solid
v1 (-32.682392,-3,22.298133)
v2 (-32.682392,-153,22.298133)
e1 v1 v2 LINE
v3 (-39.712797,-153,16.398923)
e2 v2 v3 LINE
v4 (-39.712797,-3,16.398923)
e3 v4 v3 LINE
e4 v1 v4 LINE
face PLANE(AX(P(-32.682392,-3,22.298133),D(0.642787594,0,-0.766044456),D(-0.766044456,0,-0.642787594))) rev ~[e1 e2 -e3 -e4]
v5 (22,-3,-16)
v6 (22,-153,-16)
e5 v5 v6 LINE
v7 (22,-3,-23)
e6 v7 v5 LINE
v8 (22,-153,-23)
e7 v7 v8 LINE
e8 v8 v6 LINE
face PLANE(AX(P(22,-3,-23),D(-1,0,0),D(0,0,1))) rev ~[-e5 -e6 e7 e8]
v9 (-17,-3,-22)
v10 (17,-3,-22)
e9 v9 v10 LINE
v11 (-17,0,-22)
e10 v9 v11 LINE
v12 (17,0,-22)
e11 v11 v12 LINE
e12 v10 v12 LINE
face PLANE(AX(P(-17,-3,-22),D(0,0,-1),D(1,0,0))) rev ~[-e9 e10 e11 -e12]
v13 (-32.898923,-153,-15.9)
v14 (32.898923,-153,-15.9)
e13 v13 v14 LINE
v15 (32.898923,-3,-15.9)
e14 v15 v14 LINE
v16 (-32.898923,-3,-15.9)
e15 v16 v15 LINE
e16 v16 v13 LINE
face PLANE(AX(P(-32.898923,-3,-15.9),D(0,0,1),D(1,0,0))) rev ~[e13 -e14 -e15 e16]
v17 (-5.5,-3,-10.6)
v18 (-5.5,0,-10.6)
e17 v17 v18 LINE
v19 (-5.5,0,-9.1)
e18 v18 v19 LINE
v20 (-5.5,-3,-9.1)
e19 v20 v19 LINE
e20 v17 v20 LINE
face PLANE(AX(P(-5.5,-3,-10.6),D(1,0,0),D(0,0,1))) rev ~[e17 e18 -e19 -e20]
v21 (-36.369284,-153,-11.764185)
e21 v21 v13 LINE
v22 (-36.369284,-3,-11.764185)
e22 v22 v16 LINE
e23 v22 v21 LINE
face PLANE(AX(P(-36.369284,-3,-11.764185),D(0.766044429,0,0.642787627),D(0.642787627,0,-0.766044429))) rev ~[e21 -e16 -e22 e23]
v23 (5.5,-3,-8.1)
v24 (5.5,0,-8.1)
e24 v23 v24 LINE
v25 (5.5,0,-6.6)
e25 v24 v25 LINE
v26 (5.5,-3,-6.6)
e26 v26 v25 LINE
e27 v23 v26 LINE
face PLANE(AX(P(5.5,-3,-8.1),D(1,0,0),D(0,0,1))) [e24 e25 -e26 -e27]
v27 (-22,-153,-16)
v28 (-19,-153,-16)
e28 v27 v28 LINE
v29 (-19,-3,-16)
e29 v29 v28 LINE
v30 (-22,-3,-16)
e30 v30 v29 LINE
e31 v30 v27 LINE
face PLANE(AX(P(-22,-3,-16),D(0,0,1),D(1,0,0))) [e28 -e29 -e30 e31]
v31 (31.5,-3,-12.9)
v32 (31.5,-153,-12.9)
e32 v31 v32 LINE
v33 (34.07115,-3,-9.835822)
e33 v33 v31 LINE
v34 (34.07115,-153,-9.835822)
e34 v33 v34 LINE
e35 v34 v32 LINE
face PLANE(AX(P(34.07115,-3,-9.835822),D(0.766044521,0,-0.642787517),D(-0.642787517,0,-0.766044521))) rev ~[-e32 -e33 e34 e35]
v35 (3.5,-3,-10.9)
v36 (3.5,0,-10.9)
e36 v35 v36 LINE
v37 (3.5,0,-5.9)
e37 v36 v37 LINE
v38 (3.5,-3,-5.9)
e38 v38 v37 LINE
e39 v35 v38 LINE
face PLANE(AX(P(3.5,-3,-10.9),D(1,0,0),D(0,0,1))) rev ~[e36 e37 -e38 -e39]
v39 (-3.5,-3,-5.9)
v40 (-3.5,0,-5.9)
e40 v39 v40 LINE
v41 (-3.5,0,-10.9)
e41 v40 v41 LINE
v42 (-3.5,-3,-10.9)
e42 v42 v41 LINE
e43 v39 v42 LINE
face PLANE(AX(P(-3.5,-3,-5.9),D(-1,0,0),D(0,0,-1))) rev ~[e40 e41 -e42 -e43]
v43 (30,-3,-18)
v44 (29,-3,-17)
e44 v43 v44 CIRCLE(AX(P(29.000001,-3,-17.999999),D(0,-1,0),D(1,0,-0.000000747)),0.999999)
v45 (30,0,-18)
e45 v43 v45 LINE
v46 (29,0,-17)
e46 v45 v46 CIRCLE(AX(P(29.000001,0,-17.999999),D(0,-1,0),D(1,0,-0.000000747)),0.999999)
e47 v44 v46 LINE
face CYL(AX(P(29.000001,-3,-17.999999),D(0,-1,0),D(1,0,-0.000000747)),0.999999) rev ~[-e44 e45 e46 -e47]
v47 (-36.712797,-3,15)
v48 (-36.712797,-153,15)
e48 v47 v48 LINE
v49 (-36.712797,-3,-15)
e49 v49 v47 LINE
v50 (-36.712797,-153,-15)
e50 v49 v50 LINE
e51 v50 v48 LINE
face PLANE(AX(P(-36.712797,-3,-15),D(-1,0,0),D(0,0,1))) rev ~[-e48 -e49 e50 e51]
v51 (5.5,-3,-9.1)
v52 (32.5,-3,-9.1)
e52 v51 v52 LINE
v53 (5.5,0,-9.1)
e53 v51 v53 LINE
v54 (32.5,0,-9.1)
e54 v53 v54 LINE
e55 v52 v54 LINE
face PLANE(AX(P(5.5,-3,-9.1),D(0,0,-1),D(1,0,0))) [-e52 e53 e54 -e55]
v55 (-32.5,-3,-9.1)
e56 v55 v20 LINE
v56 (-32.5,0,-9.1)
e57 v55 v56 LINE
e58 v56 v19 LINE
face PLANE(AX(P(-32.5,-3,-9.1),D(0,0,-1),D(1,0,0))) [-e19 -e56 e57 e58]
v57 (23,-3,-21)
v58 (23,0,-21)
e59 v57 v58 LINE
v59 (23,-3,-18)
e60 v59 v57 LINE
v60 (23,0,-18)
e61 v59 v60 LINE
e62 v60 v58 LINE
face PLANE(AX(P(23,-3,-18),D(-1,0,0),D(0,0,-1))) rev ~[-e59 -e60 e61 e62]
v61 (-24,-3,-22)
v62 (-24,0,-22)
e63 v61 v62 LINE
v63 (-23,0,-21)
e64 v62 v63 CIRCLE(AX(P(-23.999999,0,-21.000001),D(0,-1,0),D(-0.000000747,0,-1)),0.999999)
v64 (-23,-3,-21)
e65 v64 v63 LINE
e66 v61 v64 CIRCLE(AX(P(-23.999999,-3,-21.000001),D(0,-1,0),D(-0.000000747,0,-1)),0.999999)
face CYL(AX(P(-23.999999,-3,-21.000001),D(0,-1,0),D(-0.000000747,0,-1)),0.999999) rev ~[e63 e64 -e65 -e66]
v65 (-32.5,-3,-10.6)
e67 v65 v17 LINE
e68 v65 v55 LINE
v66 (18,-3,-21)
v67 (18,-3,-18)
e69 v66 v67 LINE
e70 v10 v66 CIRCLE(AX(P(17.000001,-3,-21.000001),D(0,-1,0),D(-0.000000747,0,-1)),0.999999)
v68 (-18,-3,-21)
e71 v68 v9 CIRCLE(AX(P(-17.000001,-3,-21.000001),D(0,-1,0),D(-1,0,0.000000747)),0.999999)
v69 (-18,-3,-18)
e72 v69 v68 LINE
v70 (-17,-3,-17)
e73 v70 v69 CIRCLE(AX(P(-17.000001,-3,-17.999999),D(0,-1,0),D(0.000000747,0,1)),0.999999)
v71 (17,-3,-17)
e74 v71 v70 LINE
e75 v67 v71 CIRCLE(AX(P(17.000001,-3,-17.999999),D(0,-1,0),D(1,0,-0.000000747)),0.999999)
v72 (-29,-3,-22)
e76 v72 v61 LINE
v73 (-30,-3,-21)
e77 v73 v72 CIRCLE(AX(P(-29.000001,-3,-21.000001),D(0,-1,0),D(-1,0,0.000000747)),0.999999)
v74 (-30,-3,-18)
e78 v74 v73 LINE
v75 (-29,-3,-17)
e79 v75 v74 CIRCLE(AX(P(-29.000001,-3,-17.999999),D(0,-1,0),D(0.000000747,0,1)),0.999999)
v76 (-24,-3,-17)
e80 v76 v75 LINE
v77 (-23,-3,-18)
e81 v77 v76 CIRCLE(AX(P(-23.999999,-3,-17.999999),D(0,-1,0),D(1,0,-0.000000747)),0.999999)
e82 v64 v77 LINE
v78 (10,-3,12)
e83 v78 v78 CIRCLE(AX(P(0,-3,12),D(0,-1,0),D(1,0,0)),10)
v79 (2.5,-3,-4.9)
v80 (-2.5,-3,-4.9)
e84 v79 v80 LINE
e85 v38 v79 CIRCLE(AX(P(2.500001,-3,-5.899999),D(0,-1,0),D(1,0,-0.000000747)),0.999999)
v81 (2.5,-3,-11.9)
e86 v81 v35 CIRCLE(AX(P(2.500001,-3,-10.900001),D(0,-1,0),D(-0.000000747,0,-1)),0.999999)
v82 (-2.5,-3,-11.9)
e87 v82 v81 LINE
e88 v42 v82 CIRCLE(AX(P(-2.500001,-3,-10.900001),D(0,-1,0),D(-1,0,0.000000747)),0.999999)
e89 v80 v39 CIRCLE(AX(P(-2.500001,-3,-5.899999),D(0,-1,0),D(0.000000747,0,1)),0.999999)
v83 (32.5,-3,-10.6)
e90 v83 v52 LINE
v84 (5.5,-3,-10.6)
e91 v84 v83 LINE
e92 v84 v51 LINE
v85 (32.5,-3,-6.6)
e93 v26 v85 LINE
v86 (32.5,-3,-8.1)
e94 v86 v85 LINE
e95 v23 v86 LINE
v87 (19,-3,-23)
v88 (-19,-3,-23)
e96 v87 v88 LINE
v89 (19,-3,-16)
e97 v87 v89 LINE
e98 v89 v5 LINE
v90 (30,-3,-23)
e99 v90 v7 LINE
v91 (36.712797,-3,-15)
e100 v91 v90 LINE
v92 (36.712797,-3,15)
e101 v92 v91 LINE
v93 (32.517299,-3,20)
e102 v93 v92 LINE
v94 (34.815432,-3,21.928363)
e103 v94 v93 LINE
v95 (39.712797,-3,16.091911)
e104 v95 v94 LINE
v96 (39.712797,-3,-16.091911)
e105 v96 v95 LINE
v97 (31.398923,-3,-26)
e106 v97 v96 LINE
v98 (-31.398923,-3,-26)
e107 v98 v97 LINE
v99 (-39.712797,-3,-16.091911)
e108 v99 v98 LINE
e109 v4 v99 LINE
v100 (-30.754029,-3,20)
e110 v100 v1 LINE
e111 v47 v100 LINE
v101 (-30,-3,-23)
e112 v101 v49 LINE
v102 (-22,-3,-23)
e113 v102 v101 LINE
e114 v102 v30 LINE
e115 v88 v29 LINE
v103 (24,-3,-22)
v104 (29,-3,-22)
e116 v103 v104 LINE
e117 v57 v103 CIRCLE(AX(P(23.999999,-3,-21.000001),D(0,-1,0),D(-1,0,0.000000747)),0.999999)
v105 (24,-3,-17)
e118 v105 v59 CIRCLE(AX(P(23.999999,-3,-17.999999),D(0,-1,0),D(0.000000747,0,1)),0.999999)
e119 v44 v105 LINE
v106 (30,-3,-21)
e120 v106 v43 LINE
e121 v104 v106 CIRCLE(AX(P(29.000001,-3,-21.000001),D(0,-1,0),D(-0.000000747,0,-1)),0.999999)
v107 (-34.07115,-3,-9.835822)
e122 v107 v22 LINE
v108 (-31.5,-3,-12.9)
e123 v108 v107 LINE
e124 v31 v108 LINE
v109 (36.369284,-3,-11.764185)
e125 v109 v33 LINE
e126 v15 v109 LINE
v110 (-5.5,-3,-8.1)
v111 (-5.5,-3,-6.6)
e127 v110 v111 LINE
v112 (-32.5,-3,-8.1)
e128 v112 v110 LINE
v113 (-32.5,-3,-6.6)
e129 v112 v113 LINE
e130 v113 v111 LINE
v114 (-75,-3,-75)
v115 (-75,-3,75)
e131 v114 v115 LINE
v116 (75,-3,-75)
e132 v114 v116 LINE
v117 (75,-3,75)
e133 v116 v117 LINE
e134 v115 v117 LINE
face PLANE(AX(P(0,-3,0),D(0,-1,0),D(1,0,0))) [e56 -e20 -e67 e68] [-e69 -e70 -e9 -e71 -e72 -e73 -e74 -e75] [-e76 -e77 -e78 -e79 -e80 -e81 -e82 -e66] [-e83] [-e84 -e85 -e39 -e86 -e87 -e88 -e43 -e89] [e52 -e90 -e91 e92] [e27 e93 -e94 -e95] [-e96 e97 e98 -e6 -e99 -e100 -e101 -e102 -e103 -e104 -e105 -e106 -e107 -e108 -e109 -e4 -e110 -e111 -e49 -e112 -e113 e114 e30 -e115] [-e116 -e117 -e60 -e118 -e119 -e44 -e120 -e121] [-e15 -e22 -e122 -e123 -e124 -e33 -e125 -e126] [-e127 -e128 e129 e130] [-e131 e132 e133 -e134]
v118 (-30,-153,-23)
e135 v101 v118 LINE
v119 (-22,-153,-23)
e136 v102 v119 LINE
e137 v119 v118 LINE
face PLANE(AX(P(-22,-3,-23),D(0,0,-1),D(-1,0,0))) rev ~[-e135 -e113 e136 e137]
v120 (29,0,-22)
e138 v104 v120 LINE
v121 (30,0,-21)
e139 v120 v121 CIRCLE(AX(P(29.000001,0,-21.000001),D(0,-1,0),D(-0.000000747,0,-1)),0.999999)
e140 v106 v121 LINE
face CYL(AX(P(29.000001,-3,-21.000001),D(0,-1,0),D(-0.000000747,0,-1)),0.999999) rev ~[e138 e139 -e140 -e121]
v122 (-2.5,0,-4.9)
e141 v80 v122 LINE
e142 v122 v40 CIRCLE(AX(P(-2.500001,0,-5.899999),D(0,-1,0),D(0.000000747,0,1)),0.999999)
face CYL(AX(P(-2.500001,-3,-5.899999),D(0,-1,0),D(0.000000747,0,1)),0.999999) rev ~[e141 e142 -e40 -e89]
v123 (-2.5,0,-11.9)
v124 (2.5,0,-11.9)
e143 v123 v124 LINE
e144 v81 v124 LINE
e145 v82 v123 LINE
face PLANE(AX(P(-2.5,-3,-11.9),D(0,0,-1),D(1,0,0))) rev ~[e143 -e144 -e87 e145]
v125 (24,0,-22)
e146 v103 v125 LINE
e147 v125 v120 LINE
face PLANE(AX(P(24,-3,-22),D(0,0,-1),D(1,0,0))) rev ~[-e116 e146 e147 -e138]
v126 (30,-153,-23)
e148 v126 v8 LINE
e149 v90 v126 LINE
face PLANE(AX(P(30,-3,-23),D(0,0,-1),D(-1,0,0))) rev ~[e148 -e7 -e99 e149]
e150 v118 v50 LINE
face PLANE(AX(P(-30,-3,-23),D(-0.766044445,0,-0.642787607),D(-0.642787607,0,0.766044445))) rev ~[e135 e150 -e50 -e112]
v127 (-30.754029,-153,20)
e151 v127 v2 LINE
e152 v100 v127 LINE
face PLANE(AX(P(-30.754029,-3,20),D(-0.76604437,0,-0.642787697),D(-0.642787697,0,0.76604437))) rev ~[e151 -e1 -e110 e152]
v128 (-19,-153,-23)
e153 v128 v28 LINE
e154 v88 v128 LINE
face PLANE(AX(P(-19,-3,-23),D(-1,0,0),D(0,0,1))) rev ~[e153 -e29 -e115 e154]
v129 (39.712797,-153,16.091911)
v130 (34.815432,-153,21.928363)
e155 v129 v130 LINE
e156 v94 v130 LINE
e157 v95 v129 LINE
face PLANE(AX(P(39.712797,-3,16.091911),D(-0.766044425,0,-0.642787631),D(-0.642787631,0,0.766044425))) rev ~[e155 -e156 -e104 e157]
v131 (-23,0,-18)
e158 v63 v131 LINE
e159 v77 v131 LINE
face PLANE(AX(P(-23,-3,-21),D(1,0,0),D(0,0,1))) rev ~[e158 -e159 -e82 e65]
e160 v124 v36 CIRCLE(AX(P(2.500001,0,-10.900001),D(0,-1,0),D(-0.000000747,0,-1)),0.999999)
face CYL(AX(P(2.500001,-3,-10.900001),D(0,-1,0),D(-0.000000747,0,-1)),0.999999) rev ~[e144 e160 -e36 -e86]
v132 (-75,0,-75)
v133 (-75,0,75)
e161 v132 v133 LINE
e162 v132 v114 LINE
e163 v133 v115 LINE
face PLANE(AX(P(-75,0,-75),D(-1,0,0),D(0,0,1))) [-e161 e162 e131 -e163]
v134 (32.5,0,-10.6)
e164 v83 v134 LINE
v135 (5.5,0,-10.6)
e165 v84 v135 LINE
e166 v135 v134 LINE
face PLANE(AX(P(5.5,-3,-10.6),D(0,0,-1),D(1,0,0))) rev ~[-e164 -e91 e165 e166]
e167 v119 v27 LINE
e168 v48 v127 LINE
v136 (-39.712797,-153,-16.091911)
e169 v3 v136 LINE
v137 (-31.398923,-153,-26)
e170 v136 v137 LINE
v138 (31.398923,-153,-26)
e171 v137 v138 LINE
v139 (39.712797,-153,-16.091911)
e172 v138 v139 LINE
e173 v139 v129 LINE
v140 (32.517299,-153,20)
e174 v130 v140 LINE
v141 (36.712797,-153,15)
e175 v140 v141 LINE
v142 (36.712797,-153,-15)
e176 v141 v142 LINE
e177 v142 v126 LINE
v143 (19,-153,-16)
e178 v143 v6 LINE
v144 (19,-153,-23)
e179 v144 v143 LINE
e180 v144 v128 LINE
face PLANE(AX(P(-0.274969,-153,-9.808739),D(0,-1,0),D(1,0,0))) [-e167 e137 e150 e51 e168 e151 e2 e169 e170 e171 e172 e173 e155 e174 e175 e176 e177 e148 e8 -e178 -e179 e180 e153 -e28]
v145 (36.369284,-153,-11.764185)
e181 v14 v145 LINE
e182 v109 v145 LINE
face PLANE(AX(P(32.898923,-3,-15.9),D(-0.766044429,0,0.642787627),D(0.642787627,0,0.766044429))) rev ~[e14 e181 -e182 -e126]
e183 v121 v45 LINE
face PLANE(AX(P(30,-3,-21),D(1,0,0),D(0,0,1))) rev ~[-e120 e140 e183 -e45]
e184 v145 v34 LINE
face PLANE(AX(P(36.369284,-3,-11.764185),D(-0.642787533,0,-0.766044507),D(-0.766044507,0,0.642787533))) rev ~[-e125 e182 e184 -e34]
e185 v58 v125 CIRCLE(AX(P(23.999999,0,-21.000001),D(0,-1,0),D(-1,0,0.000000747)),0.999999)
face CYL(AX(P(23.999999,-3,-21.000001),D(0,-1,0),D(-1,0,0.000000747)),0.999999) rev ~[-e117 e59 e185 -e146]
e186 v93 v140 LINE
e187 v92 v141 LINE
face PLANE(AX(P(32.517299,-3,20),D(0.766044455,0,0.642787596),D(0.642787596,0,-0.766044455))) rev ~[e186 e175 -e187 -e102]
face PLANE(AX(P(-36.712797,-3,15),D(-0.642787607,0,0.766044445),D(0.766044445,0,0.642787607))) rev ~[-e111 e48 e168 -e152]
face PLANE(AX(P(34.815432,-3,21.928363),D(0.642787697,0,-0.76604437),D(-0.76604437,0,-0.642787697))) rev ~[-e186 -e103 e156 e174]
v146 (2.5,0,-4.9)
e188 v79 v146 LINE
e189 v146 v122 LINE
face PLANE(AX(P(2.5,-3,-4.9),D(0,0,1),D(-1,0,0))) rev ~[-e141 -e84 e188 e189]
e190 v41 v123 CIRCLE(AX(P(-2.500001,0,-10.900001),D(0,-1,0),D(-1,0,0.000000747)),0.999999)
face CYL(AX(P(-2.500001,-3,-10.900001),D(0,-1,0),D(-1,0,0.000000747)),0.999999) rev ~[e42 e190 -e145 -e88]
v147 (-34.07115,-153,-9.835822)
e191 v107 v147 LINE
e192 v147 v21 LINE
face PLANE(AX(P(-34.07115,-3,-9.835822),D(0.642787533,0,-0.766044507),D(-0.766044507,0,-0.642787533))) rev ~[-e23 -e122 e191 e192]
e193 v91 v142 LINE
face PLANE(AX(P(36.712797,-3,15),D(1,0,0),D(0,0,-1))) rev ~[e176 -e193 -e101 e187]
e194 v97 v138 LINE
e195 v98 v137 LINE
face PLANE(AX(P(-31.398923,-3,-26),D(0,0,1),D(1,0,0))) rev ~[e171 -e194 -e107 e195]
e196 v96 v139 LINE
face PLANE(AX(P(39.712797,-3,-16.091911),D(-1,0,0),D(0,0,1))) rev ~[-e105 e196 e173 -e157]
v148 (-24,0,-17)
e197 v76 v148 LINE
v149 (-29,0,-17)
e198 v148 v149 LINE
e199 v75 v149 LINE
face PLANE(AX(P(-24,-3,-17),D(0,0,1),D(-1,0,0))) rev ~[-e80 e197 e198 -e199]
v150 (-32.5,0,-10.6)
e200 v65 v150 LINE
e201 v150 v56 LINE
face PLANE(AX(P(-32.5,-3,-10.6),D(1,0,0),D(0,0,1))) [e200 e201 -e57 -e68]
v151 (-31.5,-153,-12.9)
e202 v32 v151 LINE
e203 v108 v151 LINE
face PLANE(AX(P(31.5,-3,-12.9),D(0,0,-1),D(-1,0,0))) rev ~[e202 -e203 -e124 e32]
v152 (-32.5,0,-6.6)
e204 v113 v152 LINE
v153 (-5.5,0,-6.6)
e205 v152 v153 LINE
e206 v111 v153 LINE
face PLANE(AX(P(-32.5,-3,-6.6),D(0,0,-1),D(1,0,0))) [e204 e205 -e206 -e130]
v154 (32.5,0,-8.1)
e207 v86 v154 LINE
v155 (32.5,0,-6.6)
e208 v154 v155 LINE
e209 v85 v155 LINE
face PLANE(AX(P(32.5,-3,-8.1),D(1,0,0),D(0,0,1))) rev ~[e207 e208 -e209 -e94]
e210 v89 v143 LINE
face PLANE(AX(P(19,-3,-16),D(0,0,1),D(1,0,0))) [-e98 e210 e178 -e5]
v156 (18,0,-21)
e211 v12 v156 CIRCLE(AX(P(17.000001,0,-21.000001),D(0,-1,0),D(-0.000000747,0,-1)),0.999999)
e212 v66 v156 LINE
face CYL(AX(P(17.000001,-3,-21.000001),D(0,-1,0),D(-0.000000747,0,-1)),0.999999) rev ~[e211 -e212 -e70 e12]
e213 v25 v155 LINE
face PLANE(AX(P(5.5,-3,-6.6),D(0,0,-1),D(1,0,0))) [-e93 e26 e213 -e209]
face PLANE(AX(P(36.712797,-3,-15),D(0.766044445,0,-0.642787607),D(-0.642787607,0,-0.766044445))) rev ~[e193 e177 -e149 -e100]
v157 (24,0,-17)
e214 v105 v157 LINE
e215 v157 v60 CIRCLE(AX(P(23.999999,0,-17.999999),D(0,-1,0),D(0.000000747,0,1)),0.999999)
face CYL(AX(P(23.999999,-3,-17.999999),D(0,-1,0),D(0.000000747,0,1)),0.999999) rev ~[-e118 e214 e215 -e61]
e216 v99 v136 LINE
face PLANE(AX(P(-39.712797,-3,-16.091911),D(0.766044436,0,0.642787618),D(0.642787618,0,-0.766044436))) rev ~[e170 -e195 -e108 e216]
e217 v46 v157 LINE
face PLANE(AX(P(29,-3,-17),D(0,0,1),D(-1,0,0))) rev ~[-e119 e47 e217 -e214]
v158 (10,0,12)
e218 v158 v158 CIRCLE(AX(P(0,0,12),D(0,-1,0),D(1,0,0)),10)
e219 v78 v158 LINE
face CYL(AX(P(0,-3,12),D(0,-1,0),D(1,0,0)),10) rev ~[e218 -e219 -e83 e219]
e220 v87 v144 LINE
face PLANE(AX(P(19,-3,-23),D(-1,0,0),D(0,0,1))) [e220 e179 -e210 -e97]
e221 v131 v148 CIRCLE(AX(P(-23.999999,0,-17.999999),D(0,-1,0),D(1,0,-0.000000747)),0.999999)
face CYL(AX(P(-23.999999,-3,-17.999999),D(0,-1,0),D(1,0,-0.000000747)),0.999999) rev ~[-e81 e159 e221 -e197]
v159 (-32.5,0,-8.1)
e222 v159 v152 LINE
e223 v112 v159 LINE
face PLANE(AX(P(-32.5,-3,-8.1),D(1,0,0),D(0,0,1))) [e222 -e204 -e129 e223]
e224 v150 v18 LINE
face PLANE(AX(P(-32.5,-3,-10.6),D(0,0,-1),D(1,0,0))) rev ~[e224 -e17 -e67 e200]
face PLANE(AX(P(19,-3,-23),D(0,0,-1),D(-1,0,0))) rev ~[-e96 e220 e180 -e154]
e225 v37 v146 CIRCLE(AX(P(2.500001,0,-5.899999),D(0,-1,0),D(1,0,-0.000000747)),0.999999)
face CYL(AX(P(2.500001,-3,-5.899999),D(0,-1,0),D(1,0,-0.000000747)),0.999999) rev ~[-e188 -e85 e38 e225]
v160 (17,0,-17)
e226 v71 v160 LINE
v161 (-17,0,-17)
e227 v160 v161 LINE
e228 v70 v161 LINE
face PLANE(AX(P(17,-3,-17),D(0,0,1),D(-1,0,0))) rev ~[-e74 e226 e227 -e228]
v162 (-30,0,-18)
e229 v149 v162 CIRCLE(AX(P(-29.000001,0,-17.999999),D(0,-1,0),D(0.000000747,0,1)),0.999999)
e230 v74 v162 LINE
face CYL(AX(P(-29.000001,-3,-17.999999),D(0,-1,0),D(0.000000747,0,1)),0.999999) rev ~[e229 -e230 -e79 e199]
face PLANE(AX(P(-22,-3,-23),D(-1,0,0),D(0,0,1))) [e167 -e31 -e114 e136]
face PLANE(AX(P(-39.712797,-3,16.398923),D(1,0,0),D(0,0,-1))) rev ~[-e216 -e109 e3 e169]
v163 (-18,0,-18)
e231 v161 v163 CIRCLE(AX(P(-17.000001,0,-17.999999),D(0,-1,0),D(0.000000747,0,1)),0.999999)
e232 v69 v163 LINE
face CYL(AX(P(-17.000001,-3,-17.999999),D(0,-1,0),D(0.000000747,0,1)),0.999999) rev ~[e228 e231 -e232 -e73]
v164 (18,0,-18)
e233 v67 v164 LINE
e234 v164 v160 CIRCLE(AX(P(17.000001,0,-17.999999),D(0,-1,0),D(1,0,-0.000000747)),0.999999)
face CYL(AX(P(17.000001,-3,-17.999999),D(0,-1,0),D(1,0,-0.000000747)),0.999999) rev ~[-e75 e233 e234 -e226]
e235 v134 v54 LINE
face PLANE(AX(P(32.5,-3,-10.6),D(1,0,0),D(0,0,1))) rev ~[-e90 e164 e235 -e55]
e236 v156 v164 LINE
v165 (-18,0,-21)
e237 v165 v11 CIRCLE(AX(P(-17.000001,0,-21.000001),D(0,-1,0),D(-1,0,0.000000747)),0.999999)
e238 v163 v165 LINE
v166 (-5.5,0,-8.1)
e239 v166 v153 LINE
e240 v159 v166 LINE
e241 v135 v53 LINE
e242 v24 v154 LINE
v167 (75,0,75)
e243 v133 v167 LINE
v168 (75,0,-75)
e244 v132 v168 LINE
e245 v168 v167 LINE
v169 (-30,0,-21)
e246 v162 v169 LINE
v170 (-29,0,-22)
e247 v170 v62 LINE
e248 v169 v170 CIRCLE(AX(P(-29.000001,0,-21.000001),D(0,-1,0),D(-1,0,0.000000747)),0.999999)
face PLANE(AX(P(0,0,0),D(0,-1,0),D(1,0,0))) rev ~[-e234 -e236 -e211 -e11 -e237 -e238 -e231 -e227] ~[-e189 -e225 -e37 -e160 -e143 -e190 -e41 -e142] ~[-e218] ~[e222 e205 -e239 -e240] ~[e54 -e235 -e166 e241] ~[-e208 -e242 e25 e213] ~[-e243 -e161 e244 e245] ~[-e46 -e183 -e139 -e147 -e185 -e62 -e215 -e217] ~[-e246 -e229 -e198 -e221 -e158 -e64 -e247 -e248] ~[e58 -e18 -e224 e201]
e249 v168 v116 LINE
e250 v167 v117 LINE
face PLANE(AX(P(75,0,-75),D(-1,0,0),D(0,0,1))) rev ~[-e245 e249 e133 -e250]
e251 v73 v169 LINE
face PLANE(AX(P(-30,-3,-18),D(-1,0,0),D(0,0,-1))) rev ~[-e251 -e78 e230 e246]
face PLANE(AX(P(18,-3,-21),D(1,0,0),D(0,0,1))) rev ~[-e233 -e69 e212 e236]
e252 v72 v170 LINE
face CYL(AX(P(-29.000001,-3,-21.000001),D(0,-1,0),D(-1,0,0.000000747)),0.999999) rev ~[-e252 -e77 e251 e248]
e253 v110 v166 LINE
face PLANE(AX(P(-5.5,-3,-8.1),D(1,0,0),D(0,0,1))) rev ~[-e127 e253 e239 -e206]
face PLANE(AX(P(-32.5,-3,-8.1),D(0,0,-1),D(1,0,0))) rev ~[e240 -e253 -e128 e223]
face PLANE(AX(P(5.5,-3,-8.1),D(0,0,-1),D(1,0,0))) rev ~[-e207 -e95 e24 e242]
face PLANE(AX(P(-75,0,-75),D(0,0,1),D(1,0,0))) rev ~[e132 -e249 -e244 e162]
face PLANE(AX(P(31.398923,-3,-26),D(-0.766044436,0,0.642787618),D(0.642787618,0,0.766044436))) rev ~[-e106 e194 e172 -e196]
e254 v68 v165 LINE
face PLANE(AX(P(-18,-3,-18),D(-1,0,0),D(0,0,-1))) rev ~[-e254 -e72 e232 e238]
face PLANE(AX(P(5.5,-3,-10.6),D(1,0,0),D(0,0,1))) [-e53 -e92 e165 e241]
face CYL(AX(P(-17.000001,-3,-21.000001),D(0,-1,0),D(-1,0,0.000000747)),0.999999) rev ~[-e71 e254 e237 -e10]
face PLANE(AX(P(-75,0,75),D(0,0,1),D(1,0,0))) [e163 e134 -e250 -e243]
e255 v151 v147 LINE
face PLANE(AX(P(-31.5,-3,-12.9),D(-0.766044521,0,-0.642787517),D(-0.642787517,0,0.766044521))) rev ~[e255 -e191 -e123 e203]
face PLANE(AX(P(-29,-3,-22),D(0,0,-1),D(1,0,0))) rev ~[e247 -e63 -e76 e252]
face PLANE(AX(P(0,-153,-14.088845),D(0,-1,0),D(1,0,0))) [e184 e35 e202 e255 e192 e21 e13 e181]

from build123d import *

# Parameters (mm, degrees)
F0_W     = 150
F0_H     = 150
F1_DEPTH = 3
F2_W     = 3
F2_H     = 7
F3_DEPTH = 150
F2_R     = 10
F2_W_2   = 27
F2_H_2   = 1.5
F4_DEPTH = 3.001


with BuildPart() as f1:
    # F0 (on Front) → F1 (new body)
    with BuildSketch(Plane.XZ):
        Rectangle(F0_W, F0_H)
    extrude(amount=F1_DEPTH)

    # F2 (on face) → F3 (join)
    with BuildSketch(Plane.XZ.offset(3)):
        Polygon((-36.712797, 15), (-30.754029, 20), (-32.682392, 22.298133), (-39.712797, 16.398923), (-39.712797, -16.091911), (-31.398923, -26), (31.398923, -26), (39.712797, -16.091911), (39.712797, 16.091911), (34.815432, 21.928363), (32.517299, 20), (36.712797, 15), (36.712797, -15), (30, -23), (22, -23), (19, -23), (-19, -23), (-22, -23), (-30, -23), (-36.712797, -15), align=None)
        with Locations((-20.5, -19.5)):
            Rectangle(F2_W, F2_H)
        Polygon((-31.5, -12.9), (-34.07115, -9.835822), (-36.369284, -11.764185), (-32.898923, -15.9), (32.898923, -15.9), (36.369284, -11.764185), (34.07115, -9.835822), (31.5, -12.9), align=None)
        with Locations((20.5, -19.5)):
            Rectangle(F2_W, F2_H)
    extrude(amount=F3_DEPTH)

    # F2 (on face) → F4 (cut, through all)
    with BuildSketch(Plane.XZ.offset(3)):
        with Locations((0, 12)):
            Circle(F2_R)
        with BuildLine():
            ThreePointArc((-29, -17), (-29.707107, -17.292893), (-30, -18))
            Line((-30, -18), (-30, -21))
            ThreePointArc((-30, -21), (-29.707107, -21.707107), (-29, -22))
            Line((-29, -22), (-24, -22))
            ThreePointArc((-24, -22), (-23.292893, -21.707107), (-23, -21))
            Line((-23, -21), (-23, -18))
            ThreePointArc((-23, -18), (-23.292893, -17.292893), (-24, -17))
            Line((-24, -17), (-29, -17))
        make_face()
        with BuildLine():
            Line((17, -17), (-17, -17))
            ThreePointArc((-17, -17), (-17.707107, -17.292893), (-18, -18))
            Line((-18, -18), (-18, -21))
            ThreePointArc((-18, -21), (-17.707107, -21.707107), (-17, -22))
            Line((-17, -22), (17, -22))
            ThreePointArc((17, -22), (17.707107, -21.707107), (18, -21))
            Line((18, -21), (18, -18))
            ThreePointArc((18, -18), (17.707107, -17.292893), (17, -17))
        make_face()
        with BuildLine():
            Line((29, -17), (24, -17))
            ThreePointArc((24, -17), (23.292893, -17.292893), (23, -18))
            Line((23, -18), (23, -21))
            ThreePointArc((23, -21), (23.292893, -21.707107), (24, -22))
            Line((24, -22), (29, -22))
            ThreePointArc((29, -22), (29.707107, -21.707107), (30, -21))
            Line((30, -21), (30, -18))
            ThreePointArc((30, -18), (29.707107, -17.292893), (29, -17))
        make_face()
        with BuildLine():
            Line((2.5, -4.9), (-2.5, -4.9))
            ThreePointArc((-2.5, -4.9), (-3.207107, -5.192893), (-3.5, -5.9))
            Line((-3.5, -5.9), (-3.5, -10.9))
            ThreePointArc((-3.5, -10.9), (-3.207107, -11.607107), (-2.5, -11.9))
            Line((-2.5, -11.9), (2.5, -11.9))
            ThreePointArc((2.5, -11.9), (3.207107, -11.607107), (3.5, -10.9))
            Line((3.5, -10.9), (3.5, -5.9))
            ThreePointArc((3.5, -5.9), (3.207107, -5.192893), (2.5, -4.9))
        make_face()
        with Locations((-19, -7.35)):
            Rectangle(F2_W_2, F2_H_2)
        with Locations((-19, -9.85)):
            Rectangle(F2_W_2, F2_H_2)
        with Locations((19, -7.35)):
            Rectangle(F2_W_2, F2_H_2)
        with Locations((19, -9.85)):
            Rectangle(F2_W_2, F2_H_2)
    extrude(amount=-F4_DEPTH, mode=Mode.SUBTRACT)


solid = f1.part
